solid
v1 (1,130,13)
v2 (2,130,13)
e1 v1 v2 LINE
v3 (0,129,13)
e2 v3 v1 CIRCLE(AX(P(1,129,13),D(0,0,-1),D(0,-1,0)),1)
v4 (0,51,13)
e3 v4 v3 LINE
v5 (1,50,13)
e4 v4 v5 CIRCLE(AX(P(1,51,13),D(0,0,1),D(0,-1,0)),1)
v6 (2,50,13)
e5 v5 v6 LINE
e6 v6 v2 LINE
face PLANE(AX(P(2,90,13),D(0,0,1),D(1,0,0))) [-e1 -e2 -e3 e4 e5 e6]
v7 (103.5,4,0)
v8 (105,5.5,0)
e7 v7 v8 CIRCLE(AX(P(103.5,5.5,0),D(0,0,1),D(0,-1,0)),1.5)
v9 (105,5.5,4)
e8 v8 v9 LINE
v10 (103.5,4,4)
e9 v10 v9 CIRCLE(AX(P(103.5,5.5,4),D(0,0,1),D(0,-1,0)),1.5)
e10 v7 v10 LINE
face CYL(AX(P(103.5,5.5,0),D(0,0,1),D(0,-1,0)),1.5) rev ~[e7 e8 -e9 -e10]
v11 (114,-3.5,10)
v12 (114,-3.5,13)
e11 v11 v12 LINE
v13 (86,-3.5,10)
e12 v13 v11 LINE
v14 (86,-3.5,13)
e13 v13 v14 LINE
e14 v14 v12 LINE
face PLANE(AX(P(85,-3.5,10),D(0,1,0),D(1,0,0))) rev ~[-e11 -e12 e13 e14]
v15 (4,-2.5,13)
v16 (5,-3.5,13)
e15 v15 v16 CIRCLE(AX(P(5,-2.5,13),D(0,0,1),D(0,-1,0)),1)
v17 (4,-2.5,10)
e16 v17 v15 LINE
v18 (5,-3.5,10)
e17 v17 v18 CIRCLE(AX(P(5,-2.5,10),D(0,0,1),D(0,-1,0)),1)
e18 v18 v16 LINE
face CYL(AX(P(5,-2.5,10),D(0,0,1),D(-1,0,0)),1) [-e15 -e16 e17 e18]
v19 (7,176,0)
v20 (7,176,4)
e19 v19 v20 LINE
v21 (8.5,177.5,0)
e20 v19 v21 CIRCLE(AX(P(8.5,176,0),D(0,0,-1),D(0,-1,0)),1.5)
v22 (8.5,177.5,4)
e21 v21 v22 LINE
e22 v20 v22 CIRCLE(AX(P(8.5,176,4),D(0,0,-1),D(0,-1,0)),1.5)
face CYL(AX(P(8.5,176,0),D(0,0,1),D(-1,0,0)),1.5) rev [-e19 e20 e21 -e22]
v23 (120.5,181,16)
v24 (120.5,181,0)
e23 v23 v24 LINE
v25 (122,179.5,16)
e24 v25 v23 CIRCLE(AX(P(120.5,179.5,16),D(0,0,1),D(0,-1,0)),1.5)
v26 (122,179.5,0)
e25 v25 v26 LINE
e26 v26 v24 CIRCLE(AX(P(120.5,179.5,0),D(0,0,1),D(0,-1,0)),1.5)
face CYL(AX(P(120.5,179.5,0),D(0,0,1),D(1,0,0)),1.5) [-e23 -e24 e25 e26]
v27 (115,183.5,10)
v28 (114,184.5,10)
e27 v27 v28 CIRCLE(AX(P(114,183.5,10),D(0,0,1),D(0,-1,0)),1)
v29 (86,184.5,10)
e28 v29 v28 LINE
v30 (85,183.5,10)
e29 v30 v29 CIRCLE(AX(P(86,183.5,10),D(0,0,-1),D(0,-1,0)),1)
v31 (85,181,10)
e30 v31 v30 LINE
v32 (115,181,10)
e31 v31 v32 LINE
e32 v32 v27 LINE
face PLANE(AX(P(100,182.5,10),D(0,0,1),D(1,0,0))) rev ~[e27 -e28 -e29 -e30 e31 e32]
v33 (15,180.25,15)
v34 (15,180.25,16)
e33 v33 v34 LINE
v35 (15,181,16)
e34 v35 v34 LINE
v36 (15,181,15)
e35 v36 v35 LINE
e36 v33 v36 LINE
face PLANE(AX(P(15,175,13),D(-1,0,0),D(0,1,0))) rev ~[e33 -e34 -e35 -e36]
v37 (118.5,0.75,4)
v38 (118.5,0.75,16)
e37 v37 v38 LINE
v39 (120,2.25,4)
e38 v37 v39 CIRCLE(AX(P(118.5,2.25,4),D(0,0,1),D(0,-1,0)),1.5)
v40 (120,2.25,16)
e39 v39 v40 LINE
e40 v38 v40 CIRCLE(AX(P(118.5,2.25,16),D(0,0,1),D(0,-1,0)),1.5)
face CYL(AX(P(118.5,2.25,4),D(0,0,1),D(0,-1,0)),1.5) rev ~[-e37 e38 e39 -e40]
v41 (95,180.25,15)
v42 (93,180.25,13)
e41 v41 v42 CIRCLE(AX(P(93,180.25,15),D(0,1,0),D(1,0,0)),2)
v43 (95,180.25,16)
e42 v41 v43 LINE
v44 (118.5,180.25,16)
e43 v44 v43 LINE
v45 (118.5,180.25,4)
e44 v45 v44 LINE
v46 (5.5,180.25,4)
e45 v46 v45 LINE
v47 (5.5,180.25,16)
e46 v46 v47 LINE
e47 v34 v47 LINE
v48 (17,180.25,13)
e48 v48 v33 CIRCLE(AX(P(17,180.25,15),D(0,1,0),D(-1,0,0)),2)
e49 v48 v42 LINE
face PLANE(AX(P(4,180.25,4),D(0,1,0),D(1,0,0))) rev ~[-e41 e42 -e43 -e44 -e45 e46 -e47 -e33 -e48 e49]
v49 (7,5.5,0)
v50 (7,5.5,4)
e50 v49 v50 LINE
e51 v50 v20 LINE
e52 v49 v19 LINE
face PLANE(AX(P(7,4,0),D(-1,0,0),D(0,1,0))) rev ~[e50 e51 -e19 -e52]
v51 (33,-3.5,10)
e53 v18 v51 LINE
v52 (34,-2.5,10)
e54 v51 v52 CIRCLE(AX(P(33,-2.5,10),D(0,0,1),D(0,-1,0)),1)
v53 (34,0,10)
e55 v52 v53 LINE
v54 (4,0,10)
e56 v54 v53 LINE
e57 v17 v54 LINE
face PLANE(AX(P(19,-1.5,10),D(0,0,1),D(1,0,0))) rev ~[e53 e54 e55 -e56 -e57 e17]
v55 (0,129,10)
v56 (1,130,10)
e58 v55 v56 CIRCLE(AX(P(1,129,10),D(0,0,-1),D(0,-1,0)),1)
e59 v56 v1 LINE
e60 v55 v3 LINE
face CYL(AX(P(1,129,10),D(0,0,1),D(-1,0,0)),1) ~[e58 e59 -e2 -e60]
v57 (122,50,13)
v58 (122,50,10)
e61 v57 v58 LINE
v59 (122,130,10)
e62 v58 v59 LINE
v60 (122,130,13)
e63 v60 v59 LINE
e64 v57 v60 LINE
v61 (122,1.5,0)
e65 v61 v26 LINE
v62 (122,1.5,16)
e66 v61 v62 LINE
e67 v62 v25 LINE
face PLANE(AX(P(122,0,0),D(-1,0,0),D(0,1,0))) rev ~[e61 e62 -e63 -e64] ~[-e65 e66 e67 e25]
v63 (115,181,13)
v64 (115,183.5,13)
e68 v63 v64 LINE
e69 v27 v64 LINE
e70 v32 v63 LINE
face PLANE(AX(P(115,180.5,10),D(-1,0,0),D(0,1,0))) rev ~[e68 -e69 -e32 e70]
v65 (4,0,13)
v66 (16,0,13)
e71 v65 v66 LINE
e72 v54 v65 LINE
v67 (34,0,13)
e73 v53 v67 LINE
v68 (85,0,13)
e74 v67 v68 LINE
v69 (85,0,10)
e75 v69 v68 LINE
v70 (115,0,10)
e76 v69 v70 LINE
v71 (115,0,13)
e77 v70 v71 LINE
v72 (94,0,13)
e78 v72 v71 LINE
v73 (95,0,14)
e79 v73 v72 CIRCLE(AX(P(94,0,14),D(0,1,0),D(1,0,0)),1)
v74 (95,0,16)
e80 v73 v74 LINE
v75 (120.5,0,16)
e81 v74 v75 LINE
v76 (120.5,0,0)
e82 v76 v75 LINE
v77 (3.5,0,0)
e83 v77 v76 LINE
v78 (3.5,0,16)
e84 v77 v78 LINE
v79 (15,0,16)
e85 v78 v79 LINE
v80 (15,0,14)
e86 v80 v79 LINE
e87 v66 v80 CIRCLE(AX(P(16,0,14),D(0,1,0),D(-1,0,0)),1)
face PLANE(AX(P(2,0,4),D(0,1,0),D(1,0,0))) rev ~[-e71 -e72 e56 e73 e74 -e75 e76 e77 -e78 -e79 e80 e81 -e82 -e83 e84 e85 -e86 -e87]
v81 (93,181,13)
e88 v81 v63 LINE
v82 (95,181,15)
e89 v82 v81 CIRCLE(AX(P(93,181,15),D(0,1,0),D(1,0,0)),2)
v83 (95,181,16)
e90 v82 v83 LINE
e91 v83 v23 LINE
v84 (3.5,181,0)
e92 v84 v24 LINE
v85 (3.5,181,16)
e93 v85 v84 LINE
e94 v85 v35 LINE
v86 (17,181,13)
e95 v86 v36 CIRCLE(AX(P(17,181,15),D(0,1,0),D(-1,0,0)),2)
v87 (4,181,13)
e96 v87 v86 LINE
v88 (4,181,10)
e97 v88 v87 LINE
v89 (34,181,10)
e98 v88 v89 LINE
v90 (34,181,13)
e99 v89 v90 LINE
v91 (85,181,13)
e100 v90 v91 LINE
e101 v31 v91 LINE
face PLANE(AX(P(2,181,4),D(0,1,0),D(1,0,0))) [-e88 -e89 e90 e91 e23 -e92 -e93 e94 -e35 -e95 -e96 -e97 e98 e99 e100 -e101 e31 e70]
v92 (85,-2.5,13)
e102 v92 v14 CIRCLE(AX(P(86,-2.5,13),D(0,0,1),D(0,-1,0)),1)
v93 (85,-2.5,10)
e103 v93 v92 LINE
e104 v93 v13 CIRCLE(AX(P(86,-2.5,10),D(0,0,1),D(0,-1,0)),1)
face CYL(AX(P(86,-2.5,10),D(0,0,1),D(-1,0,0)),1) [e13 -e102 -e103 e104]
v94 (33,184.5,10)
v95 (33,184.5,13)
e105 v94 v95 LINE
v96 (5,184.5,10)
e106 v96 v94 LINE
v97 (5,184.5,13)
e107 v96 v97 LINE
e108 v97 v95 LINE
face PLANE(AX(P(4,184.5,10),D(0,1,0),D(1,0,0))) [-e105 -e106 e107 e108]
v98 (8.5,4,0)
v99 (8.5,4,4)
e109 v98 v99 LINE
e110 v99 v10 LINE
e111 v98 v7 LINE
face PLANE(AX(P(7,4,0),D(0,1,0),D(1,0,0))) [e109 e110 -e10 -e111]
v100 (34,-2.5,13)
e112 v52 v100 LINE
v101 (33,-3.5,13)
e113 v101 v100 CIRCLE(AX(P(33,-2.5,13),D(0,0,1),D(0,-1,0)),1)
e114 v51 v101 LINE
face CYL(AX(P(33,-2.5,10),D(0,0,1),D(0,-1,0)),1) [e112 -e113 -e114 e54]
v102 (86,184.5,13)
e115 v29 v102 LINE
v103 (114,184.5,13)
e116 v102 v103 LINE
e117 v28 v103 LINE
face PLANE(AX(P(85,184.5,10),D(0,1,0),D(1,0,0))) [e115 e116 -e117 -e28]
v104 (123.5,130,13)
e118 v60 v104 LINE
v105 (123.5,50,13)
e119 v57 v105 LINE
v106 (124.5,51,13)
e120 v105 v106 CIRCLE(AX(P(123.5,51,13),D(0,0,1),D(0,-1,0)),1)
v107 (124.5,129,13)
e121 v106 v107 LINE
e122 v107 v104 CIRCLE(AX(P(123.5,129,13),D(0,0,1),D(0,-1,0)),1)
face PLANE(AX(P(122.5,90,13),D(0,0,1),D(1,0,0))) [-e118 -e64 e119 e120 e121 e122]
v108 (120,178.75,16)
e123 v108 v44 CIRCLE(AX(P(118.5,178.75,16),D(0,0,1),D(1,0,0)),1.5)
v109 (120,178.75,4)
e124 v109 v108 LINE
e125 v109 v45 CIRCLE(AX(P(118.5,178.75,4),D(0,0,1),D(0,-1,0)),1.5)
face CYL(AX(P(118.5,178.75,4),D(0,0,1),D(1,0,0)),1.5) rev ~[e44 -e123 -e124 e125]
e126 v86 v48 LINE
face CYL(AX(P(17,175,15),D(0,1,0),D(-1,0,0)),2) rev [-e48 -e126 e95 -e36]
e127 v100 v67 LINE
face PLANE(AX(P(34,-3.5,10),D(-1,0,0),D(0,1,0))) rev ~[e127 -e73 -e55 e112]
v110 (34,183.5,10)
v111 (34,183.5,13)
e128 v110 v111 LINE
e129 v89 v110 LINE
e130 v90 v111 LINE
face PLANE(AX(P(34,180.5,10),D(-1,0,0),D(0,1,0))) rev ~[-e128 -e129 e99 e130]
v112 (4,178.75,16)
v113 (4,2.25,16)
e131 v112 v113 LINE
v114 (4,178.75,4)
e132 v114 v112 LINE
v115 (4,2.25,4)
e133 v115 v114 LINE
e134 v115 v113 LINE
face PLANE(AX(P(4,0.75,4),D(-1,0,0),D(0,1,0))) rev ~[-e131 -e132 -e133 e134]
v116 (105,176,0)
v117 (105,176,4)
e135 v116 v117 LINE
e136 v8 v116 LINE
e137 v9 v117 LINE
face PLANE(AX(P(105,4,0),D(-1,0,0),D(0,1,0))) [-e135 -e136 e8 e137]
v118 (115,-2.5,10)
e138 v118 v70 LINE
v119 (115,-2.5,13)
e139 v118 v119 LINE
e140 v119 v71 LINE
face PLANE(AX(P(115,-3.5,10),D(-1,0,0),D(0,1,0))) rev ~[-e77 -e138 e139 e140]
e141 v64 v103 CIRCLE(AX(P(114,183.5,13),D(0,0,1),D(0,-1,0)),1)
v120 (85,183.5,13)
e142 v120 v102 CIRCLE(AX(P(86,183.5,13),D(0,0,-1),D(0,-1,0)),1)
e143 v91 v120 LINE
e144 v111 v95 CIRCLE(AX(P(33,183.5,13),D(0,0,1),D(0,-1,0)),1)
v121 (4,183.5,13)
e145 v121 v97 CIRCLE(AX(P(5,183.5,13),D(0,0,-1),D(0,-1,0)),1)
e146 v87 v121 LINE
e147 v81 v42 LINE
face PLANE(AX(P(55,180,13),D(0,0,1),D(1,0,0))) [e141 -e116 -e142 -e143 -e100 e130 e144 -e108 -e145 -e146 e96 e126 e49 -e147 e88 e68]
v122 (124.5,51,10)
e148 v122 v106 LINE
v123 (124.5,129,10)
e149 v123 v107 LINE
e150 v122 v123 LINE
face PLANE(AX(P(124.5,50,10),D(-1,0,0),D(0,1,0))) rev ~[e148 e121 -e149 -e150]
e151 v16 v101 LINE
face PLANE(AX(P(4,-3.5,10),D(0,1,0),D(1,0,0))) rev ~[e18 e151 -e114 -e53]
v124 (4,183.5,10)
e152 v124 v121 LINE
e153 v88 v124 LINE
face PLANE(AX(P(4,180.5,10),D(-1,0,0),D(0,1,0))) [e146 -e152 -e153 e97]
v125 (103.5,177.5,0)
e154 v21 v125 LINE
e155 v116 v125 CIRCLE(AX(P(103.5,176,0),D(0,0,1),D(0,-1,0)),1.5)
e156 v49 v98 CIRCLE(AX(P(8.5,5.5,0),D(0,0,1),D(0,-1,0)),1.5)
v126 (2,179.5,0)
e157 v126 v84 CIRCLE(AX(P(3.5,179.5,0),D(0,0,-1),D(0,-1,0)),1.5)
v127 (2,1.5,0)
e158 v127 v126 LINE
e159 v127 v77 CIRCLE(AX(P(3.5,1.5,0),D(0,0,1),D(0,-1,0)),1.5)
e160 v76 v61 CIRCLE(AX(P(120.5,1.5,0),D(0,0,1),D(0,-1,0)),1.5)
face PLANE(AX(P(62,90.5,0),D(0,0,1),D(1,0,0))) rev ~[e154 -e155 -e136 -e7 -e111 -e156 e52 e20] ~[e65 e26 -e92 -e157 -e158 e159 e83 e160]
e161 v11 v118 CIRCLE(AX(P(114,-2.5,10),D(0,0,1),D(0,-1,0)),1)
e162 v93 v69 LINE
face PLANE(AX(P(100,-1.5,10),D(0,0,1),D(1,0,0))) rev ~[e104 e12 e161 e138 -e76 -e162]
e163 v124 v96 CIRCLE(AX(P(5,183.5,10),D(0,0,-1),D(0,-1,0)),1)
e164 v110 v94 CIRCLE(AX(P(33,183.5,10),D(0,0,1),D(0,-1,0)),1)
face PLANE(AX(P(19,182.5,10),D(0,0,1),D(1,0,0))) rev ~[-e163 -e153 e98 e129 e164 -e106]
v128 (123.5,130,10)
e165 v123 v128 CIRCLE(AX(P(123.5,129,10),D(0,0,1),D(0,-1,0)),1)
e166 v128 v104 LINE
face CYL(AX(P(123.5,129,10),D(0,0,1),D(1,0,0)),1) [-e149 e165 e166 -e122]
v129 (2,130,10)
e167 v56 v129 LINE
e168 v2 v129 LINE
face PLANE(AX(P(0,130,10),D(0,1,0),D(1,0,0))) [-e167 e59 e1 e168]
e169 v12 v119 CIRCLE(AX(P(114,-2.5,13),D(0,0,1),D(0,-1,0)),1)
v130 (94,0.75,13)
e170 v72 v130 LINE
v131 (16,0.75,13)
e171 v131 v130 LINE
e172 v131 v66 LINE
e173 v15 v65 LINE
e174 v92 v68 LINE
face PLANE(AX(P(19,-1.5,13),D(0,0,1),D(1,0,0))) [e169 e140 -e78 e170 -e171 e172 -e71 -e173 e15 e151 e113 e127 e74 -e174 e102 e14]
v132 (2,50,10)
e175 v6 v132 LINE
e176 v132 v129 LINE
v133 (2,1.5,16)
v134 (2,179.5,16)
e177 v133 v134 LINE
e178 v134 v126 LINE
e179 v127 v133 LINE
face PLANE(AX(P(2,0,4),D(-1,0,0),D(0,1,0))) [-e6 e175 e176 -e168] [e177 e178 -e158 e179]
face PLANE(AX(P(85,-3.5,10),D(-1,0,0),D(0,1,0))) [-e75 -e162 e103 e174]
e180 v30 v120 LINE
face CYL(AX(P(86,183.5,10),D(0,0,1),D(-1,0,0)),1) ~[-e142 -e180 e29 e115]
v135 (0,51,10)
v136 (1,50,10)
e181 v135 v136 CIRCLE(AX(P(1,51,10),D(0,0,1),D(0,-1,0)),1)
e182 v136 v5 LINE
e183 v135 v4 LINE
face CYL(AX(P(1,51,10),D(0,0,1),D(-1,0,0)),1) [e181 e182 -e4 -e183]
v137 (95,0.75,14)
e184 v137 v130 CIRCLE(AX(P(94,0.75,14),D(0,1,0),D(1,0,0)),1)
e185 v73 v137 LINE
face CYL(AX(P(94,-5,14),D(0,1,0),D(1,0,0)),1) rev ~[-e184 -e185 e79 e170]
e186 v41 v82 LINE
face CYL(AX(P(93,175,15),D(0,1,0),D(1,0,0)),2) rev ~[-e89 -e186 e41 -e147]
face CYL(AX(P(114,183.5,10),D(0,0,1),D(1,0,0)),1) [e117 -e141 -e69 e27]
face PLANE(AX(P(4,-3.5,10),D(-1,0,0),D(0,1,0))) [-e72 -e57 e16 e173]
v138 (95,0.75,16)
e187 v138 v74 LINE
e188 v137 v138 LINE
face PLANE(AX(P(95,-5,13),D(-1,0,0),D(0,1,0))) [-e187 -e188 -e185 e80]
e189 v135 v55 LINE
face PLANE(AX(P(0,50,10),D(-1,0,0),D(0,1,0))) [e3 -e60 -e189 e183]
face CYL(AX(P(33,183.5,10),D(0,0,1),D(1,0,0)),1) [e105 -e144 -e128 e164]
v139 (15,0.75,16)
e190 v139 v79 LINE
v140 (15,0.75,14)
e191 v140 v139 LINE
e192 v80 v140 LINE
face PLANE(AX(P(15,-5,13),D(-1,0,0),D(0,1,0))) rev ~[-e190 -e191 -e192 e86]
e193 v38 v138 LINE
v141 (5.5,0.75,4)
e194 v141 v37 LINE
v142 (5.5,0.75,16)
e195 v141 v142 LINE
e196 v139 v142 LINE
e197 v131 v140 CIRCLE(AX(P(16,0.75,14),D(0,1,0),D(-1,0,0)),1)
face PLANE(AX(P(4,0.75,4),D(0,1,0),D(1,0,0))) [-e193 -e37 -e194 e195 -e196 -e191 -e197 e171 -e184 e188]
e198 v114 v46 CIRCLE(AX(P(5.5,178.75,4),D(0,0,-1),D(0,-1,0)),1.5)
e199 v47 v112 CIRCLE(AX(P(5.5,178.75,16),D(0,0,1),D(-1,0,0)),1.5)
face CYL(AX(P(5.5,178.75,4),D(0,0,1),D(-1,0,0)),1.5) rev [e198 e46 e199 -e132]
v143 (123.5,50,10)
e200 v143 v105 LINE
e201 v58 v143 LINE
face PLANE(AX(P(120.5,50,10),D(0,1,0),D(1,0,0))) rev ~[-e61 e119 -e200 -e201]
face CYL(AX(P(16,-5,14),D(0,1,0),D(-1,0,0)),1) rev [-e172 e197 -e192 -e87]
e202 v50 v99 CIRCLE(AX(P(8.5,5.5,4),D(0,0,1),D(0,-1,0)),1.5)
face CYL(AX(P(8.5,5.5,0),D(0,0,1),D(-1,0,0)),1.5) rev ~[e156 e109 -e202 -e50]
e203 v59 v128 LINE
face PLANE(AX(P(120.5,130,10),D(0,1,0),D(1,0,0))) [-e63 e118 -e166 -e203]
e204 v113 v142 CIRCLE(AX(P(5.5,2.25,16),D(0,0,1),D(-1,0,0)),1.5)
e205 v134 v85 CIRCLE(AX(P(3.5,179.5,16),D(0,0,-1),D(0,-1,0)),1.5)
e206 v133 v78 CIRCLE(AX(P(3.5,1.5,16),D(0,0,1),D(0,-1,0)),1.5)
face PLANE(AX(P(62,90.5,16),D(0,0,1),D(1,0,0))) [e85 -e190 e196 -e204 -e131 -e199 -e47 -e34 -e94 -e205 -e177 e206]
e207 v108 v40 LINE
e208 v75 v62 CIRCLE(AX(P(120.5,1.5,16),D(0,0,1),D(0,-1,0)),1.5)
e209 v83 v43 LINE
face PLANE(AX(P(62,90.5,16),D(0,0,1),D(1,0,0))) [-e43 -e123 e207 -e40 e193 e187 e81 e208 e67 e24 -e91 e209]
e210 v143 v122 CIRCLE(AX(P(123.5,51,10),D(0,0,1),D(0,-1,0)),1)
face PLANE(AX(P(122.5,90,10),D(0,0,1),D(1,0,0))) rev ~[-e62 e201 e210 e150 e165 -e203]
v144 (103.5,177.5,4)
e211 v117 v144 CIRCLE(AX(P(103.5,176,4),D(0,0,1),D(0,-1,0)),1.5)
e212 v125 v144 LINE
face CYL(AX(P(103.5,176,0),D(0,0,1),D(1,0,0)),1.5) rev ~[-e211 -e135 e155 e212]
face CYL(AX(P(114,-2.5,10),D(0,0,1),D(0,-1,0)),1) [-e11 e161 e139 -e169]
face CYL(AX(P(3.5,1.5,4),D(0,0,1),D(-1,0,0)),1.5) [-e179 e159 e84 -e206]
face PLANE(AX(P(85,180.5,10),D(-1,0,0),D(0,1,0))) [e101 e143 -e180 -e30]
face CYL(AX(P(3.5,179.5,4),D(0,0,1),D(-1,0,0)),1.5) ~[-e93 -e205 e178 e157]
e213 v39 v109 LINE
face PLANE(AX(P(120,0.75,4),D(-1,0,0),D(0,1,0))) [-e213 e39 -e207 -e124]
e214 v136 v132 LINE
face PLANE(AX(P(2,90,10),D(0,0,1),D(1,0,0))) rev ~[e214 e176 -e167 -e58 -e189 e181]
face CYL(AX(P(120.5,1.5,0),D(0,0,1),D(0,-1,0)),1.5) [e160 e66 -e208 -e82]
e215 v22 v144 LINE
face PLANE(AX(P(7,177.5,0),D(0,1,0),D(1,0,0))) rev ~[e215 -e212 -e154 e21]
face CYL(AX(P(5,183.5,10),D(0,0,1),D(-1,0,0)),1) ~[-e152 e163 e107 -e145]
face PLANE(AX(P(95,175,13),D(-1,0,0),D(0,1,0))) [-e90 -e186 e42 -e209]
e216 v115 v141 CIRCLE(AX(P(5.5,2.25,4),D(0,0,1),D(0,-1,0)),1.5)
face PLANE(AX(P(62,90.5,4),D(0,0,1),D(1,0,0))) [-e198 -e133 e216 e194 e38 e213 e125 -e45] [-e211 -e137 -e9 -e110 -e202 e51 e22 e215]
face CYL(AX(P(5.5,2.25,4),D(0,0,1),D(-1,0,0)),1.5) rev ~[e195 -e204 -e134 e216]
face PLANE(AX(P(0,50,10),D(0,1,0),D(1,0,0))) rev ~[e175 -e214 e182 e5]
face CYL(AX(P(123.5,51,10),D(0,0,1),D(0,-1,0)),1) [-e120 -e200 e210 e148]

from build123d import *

# Parameters (mm, degrees)
BOX011_W      = 4
BOX011_H      = 80
BOX011_DEPTH  = 3
FILLET006_R   = 1
BOX010_W      = 30
BOX010_H      = 4
BOX010_DEPTH  = 3
FILLET007_R   = 1
BOX009_W      = 30
BOX009_H      = 4
BOX009_DEPTH  = 3
FILLET008_R   = 1
BOX008_W      = 30
BOX008_H      = 4
BOX008_DEPTH  = 3
FILLET009_R   = 1
BOX013_W      = 4
BOX013_H      = 80
BOX013_DEPTH  = 3
FILLET010_R   = 1
BOX012_W      = 30
BOX012_H      = 4
BOX012_DEPTH  = 3
FILLET005_R   = 1
BOX006_W      = 80
BOX006_H      = 10
BOX006_DEPTH  = 10
BOX007_W      = 80
BOX007_H      = 10
BOX007_DEPTH  = 10
FILLET004_1_R = 2
FILLET004_2_R = 1
BOX003_W      = 116
BOX003_H      = 179.5
BOX003_DEPTH  = 20
FILLET002_R   = 1.5
BOX002_W      = 120
BOX002_H      = 181
BOX002_DEPTH  = 12
FILLET003_R   = 1.5
BOX001_W      = 98
BOX001_H      = 173.5
BOX001_DEPTH  = 4
FILLET_R      = 1.5
BOX_W         = 120
BOX_H         = 181
BOX_DEPTH     = 4
FILLET001_R   = 1.5


with BuildPart() as fillet006:
    # Box011 → Box011 (new body)
    with BuildSketch(Plane(origin=(0, 50, 5), x_dir=(1, 0, 0), z_dir=(0, 0, 1))):
        with Locations((2, 40)):
            Rectangle(BOX011_W, BOX011_H)
    extrude(amount=BOX011_DEPTH)

    # Fillet006
    fillet006_edges = [fillet006.edges().sort_by_distance(p)[0] for p in [
        (0, 50, 6.5),
        (0, 130, 6.5),
    ]]
    fillet(fillet006_edges, radius=FILLET006_R)


with BuildPart() as fillet007:
    # Box010 → Box010 (new body)
    with BuildSketch(Plane(origin=(85, -3.5, 5), x_dir=(1, 0, 0), z_dir=(0, 0, 1))):
        with Locations((15, 2)):
            Rectangle(BOX010_W, BOX010_H)
    extrude(amount=BOX010_DEPTH)

    # Fillet007
    fillet007_edges = [fillet007.edges().sort_by_distance(p)[0] for p in [
        (85, -3.5, 6.5),
        (115, -3.5, 6.5),
    ]]
    fillet(fillet007_edges, radius=FILLET007_R)


with BuildPart() as fillet008:
    # Box009 → Box009 (new body)
    with BuildSketch(Plane(origin=(4, 180.5, 5), x_dir=(1, 0, 0), z_dir=(0, 0, 1))):
        with Locations((15, 2)):
            Rectangle(BOX009_W, BOX009_H)
    extrude(amount=BOX009_DEPTH)

    # Fillet008
    fillet008_edges = [fillet008.edges().sort_by_distance(p)[0] for p in [
        (4, 184.5, 6.5),
        (34, 184.5, 6.5),
    ]]
    fillet(fillet008_edges, radius=FILLET008_R)


with BuildPart() as fillet009:
    # Box008 → Box008 (new body)
    with BuildSketch(Plane(origin=(85, 180.5, 5), x_dir=(1, 0, 0), z_dir=(0, 0, 1))):
        with Locations((15, 2)):
            Rectangle(BOX008_W, BOX008_H)
    extrude(amount=BOX008_DEPTH)

    # Fillet009
    fillet009_edges = [fillet009.edges().sort_by_distance(p)[0] for p in [
        (85, 184.5, 6.5),
        (115, 184.5, 6.5),
    ]]
    fillet(fillet009_edges, radius=FILLET009_R)


with BuildPart() as fillet010:
    # Box013 → Box013 (new body)
    with BuildSketch(Plane(origin=(120.5, 50, 5), x_dir=(1, 0, 0), z_dir=(0, 0, 1))):
        with Locations((2, 40)):
            Rectangle(BOX013_W, BOX013_H)
    extrude(amount=BOX013_DEPTH)

    # Fillet010
    fillet010_edges = [fillet010.edges().sort_by_distance(p)[0] for p in [
        (124.5, 50, 6.5),
        (124.5, 130, 6.5),
    ]]
    fillet(fillet010_edges, radius=FILLET010_R)


with BuildPart() as fusion002:
    # Box012 → Box012 (new body)
    with BuildSketch(Plane(origin=(4, -3.5, 5), x_dir=(1, 0, 0), z_dir=(0, 0, 1))):
        with Locations((15, 2)):
            Rectangle(BOX012_W, BOX012_H)
    extrude(amount=BOX012_DEPTH)

    # Fillet005
    fillet005_edges = [fusion002.edges().sort_by_distance(p)[0] for p in [
        (4, -3.5, 6.5),
        (34, -3.5, 6.5),
    ]]
    fillet(fillet005_edges, radius=FILLET005_R)

    # Fusion002: union Fillet006, Fillet007, Fillet008, Fillet009, Fillet010
    add(fillet006.part)
    add(fillet007.part)
    add(fillet008.part)
    add(fillet009.part)
    add(fillet010.part)


with BuildPart() as fusion002_1:
    # Fusion002 placement: moved
    add(fusion002.part.moved(Location((0, 0, 5))))


with BuildPart() as cube006:
    # Box006 → Box006 (new body)
    with BuildSketch(Plane(origin=(15, -5, 0), x_dir=(1, 0, 0), z_dir=(0, 0, 1))):
        with Locations((40, 5)):
            Rectangle(BOX006_W, BOX006_H)
    extrude(amount=BOX006_DEPTH)


with BuildPart() as fillet004:
    # Box007 → Box007 (new body)
    with BuildSketch(Plane(origin=(15, 175, 0), x_dir=(1, 0, 0), z_dir=(0, 0, 1))):
        with Locations((40, 5)):
            Rectangle(BOX007_W, BOX007_H)
    extrude(amount=BOX007_DEPTH)

    # Fusion: union Cube006
    add(cube006.part)


with BuildPart() as fillet004_1:
    # Fusion placement: moved
    add(fillet004.part.moved(Location((0, 0, 13))))

    # Fillet004 1
    fillet004_1_edges = [fillet004_1.edges().sort_by_distance(p)[0] for p in [
        (15, 180, 13),
        (95, 180, 13),
    ]]
    fillet(fillet004_1_edges, radius=FILLET004_1_R)

    # Fillet004 2
    fillet004_2_edges = [fillet004_1.edges().sort_by_distance(p)[0] for p in [
        (15, 0, 13),
        (95, 0, 13),
    ]]
    fillet(fillet004_2_edges, radius=FILLET004_2_R)


with BuildPart() as fillet002:
    # Box003 → Box003 (new body)
    with BuildSketch(Plane(origin=(4, 0.75, 4), x_dir=(1, 0, 0), z_dir=(0, 0, 1))):
        with Locations((58, 89.75)):
            Rectangle(BOX003_W, BOX003_H)
    extrude(amount=BOX003_DEPTH)

    # Fillet002
    fillet002_edges = [fillet002.edges().sort_by_distance(p)[0] for p in [
        (4, 0.75, 14),
        (4, 180.25, 14),
        (120, 0.75, 14),
        (120, 180.25, 14),
    ]]
    fillet(fillet002_edges, radius=FILLET002_R)


with BuildPart() as cut002:
    # Box002 → Box002 (new body)
    with BuildSketch(Plane(origin=(2, 0, 4), x_dir=(1, 0, 0), z_dir=(0, 0, 1))):
        with Locations((60, 90.5)):
            Rectangle(BOX002_W, BOX002_H)
    extrude(amount=BOX002_DEPTH)

    # Fillet003
    fillet003_edges = [cut002.edges().sort_by_distance(p)[0] for p in [
        (2, 0, 10),
        (2, 181, 10),
        (122, 0, 10),
        (122, 181, 10),
    ]]
    fillet(fillet003_edges, radius=FILLET003_R)

    # Cut001: cut Fillet002
    add(fillet002.part, mode=Mode.SUBTRACT)

    # Cut002: cut Fillet004
    add(fillet004_1.part, mode=Mode.SUBTRACT)


with BuildPart() as fillet_body:
    # Box001 → Box001 (new body)
    with BuildSketch(Plane(origin=(7, 4, 0), x_dir=(1, 0, 0), z_dir=(0, 0, 1))):
        with Locations((49, 86.75)):
            Rectangle(BOX001_W, BOX001_H)
    extrude(amount=BOX001_DEPTH)

    # Fillet
    fillet_edges = [fillet_body.edges().sort_by_distance(p)[0] for p in [
        (7, 4, 2),
        (7, 177.5, 2),
        (105, 4, 2),
        (105, 177.5, 2),
    ]]
    fillet(fillet_edges, radius=FILLET_R)


with BuildPart() as fusion003:
    # Box → Box (new body)
    with BuildSketch(Plane(origin=(2, 0, 0), x_dir=(1, 0, 0), z_dir=(0, 0, 1))):
        with Locations((60, 90.5)):
            Rectangle(BOX_W, BOX_H)
    extrude(amount=BOX_DEPTH)

    # Fillet001
    fillet001_edges = [fusion003.edges().sort_by_distance(p)[0] for p in [
        (2, 0, 2),
        (2, 181, 2),
        (122, 0, 2),
        (122, 181, 2),
    ]]
    fillet(fillet001_edges, radius=FILLET001_R)

    # Cut: cut Fillet body
    add(fillet_body.part, mode=Mode.SUBTRACT)

    # Fusion001: union Cut002
    add(cut002.part)

    # Fusion003: union Fusion002
    add(fusion002_1.part)


solid = fusion003.part
